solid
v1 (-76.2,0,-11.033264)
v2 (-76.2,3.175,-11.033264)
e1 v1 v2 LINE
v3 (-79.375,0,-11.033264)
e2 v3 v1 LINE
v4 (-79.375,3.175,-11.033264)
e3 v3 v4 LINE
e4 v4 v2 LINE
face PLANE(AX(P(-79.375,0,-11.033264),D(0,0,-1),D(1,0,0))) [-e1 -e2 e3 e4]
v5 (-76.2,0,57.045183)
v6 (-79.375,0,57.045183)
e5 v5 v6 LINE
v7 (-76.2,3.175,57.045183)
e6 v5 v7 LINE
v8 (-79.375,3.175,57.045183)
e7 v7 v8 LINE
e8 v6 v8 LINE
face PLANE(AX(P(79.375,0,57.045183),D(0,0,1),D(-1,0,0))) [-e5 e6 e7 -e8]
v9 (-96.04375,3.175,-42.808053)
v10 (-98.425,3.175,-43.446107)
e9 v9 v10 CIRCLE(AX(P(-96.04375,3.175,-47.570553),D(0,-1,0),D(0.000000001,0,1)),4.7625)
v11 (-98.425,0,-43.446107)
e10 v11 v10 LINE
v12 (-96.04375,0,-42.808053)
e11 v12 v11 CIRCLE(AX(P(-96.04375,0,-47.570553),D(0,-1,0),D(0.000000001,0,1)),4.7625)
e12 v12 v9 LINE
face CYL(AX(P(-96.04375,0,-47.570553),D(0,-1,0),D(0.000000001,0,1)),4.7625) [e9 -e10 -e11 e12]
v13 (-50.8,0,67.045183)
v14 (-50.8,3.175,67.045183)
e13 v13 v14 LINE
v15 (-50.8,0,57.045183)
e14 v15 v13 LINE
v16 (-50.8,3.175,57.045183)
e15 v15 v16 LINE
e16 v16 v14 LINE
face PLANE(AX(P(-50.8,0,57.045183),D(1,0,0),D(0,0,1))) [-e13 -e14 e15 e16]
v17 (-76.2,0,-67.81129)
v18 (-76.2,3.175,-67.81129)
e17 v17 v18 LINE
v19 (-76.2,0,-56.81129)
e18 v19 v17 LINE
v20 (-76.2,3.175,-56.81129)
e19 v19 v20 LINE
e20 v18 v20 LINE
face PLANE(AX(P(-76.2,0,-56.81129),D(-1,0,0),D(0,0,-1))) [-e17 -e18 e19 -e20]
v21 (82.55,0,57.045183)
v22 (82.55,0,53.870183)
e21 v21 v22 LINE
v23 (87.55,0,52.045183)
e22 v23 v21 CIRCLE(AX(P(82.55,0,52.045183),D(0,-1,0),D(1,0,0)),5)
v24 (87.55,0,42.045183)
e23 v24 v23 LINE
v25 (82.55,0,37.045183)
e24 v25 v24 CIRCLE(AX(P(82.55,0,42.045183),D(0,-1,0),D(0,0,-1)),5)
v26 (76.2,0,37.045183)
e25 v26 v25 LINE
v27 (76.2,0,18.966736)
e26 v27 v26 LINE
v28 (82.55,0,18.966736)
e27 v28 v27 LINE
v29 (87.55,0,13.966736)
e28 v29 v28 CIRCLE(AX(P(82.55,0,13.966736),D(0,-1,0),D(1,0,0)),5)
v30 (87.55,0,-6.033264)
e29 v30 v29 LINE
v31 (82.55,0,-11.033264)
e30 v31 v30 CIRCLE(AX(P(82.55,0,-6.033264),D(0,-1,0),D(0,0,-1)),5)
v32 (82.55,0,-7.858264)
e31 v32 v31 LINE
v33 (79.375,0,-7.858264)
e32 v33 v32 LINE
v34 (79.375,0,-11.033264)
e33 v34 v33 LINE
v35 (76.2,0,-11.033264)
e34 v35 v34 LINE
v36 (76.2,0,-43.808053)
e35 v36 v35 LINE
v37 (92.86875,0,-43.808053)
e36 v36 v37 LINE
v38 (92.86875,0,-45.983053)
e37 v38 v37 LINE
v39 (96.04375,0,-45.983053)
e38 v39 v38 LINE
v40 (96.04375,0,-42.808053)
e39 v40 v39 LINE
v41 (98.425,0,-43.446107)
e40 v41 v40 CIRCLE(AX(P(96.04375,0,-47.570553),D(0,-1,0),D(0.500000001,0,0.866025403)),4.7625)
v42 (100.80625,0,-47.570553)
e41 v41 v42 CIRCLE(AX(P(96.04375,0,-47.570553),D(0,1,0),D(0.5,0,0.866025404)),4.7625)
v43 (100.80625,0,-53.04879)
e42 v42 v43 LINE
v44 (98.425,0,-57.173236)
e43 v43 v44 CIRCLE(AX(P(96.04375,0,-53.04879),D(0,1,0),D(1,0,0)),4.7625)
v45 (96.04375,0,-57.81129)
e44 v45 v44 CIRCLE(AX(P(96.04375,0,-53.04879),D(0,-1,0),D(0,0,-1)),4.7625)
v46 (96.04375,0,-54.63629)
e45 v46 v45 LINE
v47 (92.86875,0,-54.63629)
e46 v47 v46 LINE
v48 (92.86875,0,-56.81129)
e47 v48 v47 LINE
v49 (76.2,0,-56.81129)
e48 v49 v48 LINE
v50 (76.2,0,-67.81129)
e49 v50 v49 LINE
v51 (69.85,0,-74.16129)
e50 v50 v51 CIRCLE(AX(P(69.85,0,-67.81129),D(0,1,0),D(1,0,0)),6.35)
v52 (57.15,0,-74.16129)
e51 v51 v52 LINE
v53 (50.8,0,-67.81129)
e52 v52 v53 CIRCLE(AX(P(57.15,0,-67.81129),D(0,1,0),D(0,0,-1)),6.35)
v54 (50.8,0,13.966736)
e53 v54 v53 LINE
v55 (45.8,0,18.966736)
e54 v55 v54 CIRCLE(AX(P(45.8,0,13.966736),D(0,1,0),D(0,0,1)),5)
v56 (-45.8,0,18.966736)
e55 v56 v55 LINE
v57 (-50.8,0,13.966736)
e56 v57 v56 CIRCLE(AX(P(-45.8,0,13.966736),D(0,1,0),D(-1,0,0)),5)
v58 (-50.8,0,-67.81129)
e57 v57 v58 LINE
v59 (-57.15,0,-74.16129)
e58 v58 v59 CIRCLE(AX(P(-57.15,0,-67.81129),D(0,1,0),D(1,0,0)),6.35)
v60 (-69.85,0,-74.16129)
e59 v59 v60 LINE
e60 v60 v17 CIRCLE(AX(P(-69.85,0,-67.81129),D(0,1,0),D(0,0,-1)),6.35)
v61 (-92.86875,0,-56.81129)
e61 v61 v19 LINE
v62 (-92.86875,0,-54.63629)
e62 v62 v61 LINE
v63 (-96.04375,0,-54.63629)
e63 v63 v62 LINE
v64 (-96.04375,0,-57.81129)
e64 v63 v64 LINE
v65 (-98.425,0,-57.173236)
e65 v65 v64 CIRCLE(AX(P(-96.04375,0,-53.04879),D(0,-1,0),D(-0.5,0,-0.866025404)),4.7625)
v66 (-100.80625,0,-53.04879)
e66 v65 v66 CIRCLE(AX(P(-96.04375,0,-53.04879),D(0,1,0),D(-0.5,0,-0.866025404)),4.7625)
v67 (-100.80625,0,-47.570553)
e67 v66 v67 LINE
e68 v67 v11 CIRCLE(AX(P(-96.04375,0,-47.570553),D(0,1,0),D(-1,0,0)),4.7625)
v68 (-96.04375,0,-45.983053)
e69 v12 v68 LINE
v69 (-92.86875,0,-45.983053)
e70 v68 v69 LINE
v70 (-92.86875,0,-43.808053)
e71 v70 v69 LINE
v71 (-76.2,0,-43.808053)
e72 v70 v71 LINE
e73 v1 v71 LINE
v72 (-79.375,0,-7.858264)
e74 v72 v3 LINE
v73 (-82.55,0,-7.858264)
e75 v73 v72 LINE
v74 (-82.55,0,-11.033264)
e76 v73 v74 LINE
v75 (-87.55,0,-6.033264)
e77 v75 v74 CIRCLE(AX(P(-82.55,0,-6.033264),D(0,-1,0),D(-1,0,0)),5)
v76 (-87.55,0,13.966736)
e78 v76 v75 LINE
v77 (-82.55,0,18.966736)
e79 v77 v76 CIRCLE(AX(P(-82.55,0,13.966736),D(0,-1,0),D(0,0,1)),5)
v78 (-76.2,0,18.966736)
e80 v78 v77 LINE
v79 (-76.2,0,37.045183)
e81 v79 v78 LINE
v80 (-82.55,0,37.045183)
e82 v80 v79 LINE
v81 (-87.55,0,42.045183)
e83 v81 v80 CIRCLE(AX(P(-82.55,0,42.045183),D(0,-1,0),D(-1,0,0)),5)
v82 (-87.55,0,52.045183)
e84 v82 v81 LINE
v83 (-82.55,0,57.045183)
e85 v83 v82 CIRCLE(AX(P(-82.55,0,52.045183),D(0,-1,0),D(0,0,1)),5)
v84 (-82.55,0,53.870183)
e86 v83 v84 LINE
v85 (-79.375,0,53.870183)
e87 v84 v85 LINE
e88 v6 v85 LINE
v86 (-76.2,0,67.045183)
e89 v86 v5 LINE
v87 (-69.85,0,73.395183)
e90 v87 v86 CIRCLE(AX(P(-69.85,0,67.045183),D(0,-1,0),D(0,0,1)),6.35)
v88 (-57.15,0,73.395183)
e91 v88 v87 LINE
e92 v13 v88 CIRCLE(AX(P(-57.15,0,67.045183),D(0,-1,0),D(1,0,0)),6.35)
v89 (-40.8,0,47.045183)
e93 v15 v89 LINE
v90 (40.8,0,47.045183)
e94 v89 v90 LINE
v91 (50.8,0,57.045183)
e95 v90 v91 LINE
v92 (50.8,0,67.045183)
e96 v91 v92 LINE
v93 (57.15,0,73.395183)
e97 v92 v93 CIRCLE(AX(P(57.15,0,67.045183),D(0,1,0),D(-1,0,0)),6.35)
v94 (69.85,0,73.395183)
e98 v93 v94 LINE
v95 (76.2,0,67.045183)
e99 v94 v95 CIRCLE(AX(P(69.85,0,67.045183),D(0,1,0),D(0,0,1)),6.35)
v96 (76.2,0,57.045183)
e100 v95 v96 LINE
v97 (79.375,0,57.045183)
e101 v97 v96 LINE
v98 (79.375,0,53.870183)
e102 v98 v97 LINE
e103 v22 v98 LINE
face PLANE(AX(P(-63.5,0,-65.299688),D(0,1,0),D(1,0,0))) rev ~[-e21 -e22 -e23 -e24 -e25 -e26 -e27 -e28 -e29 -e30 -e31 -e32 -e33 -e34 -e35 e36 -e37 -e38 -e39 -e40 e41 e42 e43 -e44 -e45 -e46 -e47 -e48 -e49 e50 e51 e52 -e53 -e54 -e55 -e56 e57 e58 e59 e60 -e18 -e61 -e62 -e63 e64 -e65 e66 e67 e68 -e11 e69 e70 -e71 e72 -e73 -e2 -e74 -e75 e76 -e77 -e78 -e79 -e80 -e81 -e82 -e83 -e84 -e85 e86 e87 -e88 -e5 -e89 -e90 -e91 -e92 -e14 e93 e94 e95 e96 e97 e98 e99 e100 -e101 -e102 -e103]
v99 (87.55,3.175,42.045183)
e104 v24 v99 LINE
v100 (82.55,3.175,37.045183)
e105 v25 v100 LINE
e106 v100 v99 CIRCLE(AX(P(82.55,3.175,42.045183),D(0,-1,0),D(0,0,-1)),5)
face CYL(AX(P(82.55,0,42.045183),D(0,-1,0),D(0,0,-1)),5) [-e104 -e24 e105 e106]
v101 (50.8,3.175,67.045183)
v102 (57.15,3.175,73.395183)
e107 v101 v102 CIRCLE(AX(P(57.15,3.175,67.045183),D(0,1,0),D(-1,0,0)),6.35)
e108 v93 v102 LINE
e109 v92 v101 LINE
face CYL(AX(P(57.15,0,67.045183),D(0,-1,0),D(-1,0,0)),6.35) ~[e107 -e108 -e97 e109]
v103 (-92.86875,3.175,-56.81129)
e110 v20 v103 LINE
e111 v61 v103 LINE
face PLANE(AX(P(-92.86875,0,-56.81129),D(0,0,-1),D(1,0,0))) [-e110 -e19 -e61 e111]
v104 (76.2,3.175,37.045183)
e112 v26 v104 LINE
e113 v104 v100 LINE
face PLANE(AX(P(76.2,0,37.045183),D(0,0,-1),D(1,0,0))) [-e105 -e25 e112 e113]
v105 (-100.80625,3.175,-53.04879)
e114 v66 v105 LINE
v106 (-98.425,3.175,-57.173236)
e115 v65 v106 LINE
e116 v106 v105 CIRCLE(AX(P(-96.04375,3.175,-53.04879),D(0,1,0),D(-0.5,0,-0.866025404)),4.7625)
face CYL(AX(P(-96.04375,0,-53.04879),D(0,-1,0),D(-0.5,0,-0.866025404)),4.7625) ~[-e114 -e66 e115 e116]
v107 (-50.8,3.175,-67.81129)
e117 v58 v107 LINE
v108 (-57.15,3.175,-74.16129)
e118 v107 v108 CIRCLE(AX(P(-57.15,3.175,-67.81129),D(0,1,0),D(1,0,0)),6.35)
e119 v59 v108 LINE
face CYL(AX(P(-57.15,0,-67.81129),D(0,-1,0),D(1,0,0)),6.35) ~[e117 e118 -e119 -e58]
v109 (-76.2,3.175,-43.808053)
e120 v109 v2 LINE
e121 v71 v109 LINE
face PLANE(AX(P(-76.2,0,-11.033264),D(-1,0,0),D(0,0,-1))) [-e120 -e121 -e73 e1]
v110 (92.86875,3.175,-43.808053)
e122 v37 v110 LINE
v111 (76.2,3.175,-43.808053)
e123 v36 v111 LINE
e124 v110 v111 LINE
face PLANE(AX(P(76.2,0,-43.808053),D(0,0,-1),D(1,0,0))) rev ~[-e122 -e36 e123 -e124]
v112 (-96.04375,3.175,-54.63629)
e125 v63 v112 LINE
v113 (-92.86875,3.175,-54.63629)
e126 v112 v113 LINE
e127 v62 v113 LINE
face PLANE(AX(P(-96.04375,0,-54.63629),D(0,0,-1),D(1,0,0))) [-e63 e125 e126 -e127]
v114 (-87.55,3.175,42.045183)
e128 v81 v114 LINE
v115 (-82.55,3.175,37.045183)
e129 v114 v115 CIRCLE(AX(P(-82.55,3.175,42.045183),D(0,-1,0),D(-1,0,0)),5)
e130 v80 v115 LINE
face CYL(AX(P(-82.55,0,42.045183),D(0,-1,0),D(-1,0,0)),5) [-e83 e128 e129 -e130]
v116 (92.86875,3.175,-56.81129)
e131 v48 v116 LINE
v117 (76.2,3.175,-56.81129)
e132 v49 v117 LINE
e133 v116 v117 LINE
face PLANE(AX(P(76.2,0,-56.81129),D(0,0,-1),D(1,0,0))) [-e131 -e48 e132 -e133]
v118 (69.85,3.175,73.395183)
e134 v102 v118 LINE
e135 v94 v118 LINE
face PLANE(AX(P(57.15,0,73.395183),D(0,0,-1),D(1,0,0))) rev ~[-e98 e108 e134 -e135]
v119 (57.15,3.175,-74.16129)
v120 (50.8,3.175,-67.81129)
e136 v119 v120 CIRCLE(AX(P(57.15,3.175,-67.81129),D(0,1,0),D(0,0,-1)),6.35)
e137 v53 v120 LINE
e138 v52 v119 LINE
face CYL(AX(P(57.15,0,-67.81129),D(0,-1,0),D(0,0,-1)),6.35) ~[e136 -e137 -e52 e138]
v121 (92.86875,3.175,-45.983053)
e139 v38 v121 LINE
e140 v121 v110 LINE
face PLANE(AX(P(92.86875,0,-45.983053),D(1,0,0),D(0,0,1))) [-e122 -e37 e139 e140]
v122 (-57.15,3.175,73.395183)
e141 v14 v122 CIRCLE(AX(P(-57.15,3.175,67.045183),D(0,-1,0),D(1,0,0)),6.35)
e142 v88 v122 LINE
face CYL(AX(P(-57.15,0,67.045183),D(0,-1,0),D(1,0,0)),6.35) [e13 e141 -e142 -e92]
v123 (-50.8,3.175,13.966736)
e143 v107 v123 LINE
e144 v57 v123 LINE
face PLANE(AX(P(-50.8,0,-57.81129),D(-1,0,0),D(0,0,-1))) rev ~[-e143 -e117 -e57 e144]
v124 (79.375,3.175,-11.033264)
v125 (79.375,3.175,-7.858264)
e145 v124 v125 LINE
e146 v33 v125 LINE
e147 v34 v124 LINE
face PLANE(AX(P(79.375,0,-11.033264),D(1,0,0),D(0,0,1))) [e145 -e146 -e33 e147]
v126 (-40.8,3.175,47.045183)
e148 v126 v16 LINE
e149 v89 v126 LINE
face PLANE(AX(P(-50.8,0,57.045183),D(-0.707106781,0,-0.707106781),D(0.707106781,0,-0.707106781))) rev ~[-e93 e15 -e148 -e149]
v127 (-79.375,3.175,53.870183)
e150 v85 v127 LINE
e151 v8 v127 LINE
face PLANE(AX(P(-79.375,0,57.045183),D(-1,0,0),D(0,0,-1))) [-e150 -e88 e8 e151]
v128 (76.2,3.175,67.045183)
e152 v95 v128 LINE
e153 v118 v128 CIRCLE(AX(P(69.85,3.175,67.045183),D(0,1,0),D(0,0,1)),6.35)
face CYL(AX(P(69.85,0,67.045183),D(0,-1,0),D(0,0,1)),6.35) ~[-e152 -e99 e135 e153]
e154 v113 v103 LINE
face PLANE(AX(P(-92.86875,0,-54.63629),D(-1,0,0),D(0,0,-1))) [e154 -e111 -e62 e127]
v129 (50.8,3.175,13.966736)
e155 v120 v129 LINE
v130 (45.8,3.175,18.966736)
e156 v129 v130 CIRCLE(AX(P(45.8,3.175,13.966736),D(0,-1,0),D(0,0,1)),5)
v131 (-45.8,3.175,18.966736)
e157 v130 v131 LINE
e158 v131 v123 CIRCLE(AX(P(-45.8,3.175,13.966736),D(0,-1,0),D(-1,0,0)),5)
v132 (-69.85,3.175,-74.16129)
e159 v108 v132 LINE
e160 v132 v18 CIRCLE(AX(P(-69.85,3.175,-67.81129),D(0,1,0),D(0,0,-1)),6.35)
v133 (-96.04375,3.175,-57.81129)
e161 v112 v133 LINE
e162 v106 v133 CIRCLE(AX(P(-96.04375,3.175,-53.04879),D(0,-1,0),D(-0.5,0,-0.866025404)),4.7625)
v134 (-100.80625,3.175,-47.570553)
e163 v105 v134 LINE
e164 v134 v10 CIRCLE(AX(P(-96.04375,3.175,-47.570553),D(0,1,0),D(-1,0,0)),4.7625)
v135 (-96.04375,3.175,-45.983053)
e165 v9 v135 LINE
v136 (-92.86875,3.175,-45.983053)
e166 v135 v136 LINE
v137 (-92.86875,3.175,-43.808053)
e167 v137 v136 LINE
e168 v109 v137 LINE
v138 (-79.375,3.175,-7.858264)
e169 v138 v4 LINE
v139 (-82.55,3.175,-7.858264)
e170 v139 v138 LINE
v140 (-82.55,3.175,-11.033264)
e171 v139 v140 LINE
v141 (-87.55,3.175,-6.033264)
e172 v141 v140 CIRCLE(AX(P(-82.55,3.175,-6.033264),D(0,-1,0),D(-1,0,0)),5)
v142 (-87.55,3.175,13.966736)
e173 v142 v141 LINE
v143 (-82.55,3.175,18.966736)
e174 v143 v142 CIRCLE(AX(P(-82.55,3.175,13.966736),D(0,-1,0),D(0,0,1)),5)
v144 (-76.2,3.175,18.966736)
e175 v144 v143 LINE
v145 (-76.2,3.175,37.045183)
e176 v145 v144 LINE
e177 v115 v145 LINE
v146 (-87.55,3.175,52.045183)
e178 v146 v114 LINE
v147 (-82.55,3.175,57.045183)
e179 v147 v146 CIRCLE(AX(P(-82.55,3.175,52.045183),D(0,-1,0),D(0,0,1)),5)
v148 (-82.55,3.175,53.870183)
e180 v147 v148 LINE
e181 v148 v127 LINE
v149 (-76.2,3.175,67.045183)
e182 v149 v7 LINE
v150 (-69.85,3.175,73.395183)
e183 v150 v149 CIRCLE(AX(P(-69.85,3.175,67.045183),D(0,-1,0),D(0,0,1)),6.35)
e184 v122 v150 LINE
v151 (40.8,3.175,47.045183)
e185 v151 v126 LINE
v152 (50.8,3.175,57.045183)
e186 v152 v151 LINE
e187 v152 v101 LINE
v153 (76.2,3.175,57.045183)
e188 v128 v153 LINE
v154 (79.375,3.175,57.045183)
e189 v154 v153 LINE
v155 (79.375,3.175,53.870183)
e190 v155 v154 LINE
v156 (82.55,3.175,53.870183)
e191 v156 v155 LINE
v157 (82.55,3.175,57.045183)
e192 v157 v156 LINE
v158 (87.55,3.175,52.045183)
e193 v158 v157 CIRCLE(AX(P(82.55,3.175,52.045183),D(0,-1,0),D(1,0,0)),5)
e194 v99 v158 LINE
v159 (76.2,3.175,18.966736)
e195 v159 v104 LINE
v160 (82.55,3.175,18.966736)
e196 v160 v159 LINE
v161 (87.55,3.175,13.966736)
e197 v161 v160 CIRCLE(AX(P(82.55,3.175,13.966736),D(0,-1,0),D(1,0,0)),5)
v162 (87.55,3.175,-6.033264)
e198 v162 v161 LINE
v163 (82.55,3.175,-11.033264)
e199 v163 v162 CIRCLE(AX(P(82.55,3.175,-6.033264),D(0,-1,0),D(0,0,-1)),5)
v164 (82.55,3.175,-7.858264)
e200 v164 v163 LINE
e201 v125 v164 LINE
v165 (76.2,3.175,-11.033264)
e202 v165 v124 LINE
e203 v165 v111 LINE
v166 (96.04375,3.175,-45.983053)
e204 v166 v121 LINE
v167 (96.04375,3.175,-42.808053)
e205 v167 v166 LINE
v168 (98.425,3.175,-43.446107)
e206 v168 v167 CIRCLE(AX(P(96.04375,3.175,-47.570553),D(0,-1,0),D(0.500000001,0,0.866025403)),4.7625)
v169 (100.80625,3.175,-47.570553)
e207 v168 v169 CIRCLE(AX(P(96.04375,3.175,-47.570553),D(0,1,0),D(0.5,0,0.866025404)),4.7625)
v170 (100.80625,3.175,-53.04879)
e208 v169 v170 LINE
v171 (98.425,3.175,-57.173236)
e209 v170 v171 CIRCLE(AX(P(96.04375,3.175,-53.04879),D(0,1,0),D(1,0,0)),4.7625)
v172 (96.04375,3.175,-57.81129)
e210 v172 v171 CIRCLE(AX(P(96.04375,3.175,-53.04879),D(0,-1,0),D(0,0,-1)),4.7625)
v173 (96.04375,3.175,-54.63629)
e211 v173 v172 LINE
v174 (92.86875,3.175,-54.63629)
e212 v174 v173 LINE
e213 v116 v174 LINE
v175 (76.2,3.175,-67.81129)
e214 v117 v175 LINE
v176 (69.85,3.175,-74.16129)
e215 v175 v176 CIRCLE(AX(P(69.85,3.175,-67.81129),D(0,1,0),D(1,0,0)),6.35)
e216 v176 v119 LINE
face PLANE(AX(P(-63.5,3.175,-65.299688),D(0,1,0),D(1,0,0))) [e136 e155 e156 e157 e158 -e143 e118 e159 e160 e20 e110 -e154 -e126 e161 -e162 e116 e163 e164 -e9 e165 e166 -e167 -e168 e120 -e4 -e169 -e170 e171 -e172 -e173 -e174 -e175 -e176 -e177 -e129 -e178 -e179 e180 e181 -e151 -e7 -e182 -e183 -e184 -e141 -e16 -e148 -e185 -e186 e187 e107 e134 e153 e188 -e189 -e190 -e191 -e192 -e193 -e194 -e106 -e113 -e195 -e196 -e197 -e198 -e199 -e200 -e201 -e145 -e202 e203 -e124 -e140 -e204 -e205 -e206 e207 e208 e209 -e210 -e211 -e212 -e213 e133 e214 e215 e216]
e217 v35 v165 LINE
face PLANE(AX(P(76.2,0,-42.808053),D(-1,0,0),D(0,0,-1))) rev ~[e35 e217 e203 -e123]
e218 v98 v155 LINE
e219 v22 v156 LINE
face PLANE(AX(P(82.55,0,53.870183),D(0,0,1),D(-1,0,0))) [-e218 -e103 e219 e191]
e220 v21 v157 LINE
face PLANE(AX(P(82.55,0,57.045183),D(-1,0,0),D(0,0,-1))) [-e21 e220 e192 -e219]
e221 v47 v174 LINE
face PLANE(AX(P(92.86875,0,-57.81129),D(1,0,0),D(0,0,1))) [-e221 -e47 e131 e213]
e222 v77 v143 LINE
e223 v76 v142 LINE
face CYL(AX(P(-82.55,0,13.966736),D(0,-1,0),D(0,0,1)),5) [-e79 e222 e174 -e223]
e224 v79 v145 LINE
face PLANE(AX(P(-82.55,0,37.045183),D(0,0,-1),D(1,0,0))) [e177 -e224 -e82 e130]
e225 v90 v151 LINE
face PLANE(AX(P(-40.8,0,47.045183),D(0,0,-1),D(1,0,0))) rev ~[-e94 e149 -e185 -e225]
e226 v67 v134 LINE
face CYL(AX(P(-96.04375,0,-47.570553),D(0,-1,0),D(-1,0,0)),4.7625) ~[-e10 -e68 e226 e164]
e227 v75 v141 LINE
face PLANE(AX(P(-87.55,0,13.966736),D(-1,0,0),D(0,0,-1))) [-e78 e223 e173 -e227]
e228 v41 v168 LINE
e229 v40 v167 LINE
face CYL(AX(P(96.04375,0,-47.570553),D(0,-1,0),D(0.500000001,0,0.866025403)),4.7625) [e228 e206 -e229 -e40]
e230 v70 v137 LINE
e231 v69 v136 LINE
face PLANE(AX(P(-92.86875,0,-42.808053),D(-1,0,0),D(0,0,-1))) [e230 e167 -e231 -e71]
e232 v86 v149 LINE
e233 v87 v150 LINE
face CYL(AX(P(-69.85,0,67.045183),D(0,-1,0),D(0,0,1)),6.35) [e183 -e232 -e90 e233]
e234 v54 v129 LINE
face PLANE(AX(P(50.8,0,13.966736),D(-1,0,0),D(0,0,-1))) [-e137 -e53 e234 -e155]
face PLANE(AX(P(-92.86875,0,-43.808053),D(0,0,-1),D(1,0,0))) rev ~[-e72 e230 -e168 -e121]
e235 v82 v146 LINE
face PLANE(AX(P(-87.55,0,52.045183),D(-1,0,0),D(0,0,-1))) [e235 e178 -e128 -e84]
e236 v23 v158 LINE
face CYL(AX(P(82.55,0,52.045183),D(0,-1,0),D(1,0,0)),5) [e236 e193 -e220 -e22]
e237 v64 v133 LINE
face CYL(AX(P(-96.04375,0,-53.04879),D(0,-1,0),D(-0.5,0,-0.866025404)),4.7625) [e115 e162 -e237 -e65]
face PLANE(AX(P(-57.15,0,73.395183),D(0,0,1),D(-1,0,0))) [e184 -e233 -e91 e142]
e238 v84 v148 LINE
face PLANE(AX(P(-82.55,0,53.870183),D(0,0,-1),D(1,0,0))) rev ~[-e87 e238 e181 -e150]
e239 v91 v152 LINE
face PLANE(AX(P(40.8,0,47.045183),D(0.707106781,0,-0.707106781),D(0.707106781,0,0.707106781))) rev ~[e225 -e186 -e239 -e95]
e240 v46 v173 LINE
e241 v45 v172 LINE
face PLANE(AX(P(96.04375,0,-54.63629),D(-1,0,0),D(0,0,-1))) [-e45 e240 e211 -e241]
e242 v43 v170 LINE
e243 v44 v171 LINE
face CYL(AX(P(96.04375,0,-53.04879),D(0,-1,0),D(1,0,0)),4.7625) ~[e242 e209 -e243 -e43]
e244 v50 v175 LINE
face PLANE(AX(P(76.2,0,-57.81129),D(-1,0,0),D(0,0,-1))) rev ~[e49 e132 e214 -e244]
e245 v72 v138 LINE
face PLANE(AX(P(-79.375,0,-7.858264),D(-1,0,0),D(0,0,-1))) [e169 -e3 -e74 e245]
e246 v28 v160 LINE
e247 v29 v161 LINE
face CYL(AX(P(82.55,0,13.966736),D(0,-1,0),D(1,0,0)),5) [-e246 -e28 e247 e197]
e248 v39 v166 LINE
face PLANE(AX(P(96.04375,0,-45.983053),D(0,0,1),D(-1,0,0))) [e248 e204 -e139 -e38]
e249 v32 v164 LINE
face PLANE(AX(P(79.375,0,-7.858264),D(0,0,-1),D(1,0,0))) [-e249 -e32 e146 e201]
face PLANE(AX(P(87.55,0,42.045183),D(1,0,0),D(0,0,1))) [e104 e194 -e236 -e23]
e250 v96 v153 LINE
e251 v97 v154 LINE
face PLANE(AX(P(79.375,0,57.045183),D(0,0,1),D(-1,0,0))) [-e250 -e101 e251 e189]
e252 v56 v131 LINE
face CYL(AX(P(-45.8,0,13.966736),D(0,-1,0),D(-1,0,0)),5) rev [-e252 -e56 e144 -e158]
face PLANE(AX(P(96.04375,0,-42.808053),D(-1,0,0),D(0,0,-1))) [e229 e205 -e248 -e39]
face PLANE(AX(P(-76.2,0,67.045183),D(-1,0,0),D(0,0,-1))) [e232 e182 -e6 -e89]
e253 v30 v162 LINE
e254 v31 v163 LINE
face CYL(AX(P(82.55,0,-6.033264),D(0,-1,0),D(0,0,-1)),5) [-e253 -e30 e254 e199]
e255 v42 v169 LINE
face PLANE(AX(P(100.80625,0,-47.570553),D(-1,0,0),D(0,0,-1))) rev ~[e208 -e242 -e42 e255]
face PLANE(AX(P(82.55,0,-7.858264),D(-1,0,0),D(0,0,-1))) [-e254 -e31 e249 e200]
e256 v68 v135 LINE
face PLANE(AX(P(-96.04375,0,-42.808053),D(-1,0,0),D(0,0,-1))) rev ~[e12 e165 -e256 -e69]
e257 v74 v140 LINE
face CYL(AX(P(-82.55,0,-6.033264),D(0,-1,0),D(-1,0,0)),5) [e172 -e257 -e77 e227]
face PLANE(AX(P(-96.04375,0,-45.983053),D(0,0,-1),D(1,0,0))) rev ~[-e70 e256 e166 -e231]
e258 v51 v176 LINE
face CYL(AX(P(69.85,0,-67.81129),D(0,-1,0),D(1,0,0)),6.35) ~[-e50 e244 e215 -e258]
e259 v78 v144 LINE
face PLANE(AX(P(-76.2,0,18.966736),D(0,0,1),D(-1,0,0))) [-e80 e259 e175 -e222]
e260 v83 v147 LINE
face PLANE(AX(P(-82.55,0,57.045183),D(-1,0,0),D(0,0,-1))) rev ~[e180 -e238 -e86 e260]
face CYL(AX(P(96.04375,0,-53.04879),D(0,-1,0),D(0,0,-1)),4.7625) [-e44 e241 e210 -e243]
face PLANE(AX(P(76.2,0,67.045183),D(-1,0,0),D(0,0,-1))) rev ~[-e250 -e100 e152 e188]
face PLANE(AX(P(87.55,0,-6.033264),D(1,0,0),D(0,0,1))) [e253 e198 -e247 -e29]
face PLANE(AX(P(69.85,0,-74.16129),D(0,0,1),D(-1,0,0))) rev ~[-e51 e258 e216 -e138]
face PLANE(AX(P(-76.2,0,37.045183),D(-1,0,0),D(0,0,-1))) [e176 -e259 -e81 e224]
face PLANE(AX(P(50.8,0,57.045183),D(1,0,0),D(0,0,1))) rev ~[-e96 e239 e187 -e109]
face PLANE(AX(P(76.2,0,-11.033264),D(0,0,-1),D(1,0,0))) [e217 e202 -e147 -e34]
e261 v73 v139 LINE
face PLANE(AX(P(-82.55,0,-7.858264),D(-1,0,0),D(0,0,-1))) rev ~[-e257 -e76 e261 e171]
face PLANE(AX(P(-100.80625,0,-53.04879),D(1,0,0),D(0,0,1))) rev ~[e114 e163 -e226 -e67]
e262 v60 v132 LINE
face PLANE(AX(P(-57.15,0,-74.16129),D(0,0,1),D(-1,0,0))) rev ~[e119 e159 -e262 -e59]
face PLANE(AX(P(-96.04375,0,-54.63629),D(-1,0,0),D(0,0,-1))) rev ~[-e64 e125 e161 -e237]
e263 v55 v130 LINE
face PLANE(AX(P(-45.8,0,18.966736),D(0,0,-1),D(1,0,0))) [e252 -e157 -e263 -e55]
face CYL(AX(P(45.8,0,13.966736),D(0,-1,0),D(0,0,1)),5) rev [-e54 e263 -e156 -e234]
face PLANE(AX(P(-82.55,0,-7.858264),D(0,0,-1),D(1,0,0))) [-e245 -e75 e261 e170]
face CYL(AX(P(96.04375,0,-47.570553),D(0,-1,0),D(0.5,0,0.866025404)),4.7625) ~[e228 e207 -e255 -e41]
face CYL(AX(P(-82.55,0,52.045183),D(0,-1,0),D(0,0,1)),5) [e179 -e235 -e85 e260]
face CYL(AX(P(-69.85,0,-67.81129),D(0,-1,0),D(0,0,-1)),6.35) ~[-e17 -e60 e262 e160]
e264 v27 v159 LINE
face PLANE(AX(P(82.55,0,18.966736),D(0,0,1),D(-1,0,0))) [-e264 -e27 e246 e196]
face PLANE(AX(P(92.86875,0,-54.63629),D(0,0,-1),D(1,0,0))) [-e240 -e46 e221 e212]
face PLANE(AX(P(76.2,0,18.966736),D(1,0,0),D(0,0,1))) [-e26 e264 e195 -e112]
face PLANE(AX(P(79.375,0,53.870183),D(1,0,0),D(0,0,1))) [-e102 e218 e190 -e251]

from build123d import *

# Parameters (mm, degrees)
SKETCH1_W           = 196.85
SKETCH1_H           = 120
BOSS_EXTRUDE1_DEPTH = 3.175
SKETCH2_W           = 152.4
SKETCH2_H           = 2.188710325
SKETCH2_W_2         = 3.175
SKETCH2_H_2         = 3.175
CUT_EXTRUDE3_DEPTH  = 3.175
BOSS_EXTRUDE3_DEPTH = 3.175
CUT_EXTRUDE5_DEPTH  = 6.175
BOSS_EXTRUDE4_DEPTH = 3.175
SKETCH8_W           = 16.66875
SKETCH8_H           = 1
CUT_EXTRUDE6_DEPTH  = 4
SKETCH9_W           = 16.66875
SKETCH9_H           = 1
CUT_EXTRUDE7_DEPTH  = 4


with BuildPart() as part:
    # Sketch1 → Boss-Extrude1 (new body)
    with BuildSketch(Plane(origin=(0, 0, 0), x_dir=(1, 0, 0), z_dir=(0, 1, 0))):
        Rectangle(SKETCH1_W, SKETCH1_H)
    extrude(amount=BOSS_EXTRUDE1_DEPTH)

    # Sketch2 → Cut-Extrude3 (cut)
    with BuildSketch(Plane(origin=(0, 0, 0), x_dir=(1, 0, 0), z_dir=(0, 1, 0))):
        with BuildLine():
            ThreePointArc((-87.55, -42.045183145), (-86.085533906, -38.509649239), (-82.55, -37.045183145))
            Line((-82.55, -37.045183145), (-98.425, -37.045183145))
            Line((-98.425, -37.045183145), (-98.425, -57.045183145))
            Line((-98.425, -57.045183145), (-82.55, -57.045183145))
            ThreePointArc((-82.55, -57.045183145), (-86.085533906, -55.580717051), (-87.55, -52.045183145))
            Line((-87.55, -52.045183145), (-87.55, -42.045183145))
        make_face()
        Polygon((-82.55, -37.045183145), (-76.2, -37.045183145), (-76.2, -18.966736095), (-82.55, -18.966736095), (-98.425, -18.966736095), (-98.425, -37.045183145), align=None)
        with BuildLine():
            Line((-98.425, -18.966736095), (-82.55, -18.966736095))
            ThreePointArc((-82.55, -18.966736095), (-86.085533906, -17.502270001), (-87.55, -13.966736095))
            Line((-87.55, -13.966736095), (-87.55, 6.033263905))
            ThreePointArc((-87.55, 6.033263905), (-86.085533906, 9.568797811), (-82.55, 11.033263905))
            Line((-82.55, 11.033263905), (-98.425, 11.033263905))
            Line((-98.425, 11.033263905), (-98.425, -18.966736095))
        make_face()
        with BuildLine():
            Line((-76.2, 11.033263905), (-76.2, 42.808053265))
            Line((-76.2, 42.808053265), (-92.86875, 42.808053265))
            Line((-92.86875, 42.808053265), (-96.04375, 42.808053265))
            ThreePointArc((-96.04375, 42.808053265), (-97.276375702, 42.970331517), (-98.425, 43.44610728))
            Line((-98.425, 43.44610728), (-98.425, 11.033263905))
            Line((-98.425, 11.033263905), (-82.55, 11.033263905))
            Line((-82.55, 11.033263905), (-79.375, 11.033263905))
            Line((-79.375, 11.033263905), (-76.2, 11.033263905))
        make_face()
        with BuildLine():
            Line((-92.86875, 57.811289675), (-76.2, 57.811289675))
            Line((-76.2, 57.811289675), (-76.2, 60))
            Line((-76.2, 60), (-98.425, 60))
            Line((-98.425, 60), (-98.425, 57.173235661))
            ThreePointArc((-98.425, 57.173235661), (-97.276375702, 57.649011423), (-96.04375, 57.811289675))
            Line((-96.04375, 57.811289675), (-92.86875, 57.811289675))
        make_face()
        with Locations((0, 58.905644838)):
            Rectangle(SKETCH2_W, SKETCH2_H)
        with BuildLine():
            Line((76.2, 60), (76.2, 57.811289675))
            Line((76.2, 57.811289675), (92.86875, 57.811289675))
            Line((92.86875, 57.811289675), (92.86875, 54.636289675))
            Line((92.86875, 54.636289675), (96.04375, 54.636289675))
            Line((96.04375, 54.636289675), (96.04375, 57.811289675))
            ThreePointArc((96.04375, 57.811289675), (97.276375702, 57.649011423), (98.425, 57.173235661))
            Line((98.425, 57.173235661), (98.425, 60))
            Line((98.425, 60), (76.2, 60))
        make_face()
        with BuildLine():
            Line((79.375, -18.966736095), (76.2, -18.966736095))
            Line((76.2, -18.966736095), (76.2, -37.045183145))
            Line((76.2, -37.045183145), (82.55, -37.045183145))
            ThreePointArc((82.55, -37.045183145), (86.085533906, -38.509649239), (87.55, -42.045183145))
            Line((87.55, -42.045183145), (87.55, -52.045183145))
            ThreePointArc((87.55, -52.045183145), (86.085533906, -55.580717051), (82.55, -57.045183145))
            Line((82.55, -57.045183145), (82.55, -53.870183145))
            Line((82.55, -53.870183145), (79.375, -53.870183145))
            Line((79.375, -53.870183145), (79.375, -57.045183145))
            Line((79.375, -57.045183145), (76.2, -57.045183145))
            Line((76.2, -57.045183145), (76.2, -59.23389347))
            Line((76.2, -59.23389347), (76.2, -60))
            Line((76.2, -60), (98.425, -60))
            Line((98.425, -60), (98.425, 0))
            Line((98.425, 0), (98.425, 43.44610728))
            ThreePointArc((98.425, 43.44610728), (97.276375702, 42.970331517), (96.04375, 42.808053265))
            Line((96.04375, 42.808053265), (96.04375, 45.983053265))
            Line((96.04375, 45.983053265), (92.86875, 45.983053265))
            Line((92.86875, 45.983053265), (92.86875, 42.808053265))
            Line((92.86875, 42.808053265), (87.3125, 42.808053265))
            Line((87.3125, 42.808053265), (76.2, 42.808053265))
            Line((76.2, 42.808053265), (76.2, 11.033263905))
            Line((76.2, 11.033263905), (79.375, 11.033263905))
            Line((79.375, 11.033263905), (79.375, 7.858263905))
            Line((79.375, 7.858263905), (82.55, 7.858263905))
            Line((82.55, 7.858263905), (82.55, 11.033263905))
            ThreePointArc((82.55, 11.033263905), (86.085533906, 9.568797811), (87.55, 6.033263905))
            Line((87.55, 6.033263905), (87.55, -13.966736095))
            ThreePointArc((87.55, -13.966736095), (86.085533906, -17.502270001), (82.55, -18.966736095))
            Line((82.55, -18.966736095), (79.375, -18.966736095))
        make_face()
        Polygon((76.2, -59.23389347), (76.2, -57.045183145), (-76.2, -57.045183145), (-76.2, -59.23389347), (-76.2, -60), (76.2, -60), align=None)
        Polygon((-76.2, -59.23389347), (-76.2, -57.045183145), (-79.375, -57.045183145), (-82.55, -57.045183145), (-98.425, -57.045183145), (-98.425, -60), (-76.2, -60), align=None)
        with Locations((-80.9625, -55.457683145)):
            Rectangle(SKETCH2_W_2, SKETCH2_H_2)
        with Locations((-80.9625, 9.445763905)):
            Rectangle(SKETCH2_W_2, SKETCH2_H_2)
        with Locations((-94.45625, 44.395553265)):
            Rectangle(SKETCH2_W_2, SKETCH2_H_2)
        with Locations((-94.45625, 56.223789675)):
            Rectangle(SKETCH2_W_2, SKETCH2_H_2)
    extrude(amount=CUT_EXTRUDE3_DEPTH, mode=Mode.SUBTRACT)

    # Sketch5 → Boss-Extrude3 (add)
    with BuildSketch(Plane(origin=(0, 0, 0), x_dir=(1, 0, 0), z_dir=(0, 1, 0))):
        with BuildLine():
            ThreePointArc((-98.425, 57.173235661), (-100.168195986, 55.430039675), (-100.80625, 53.048789675))
            Line((-100.80625, 53.048789675), (-100.80625, 47.570553265))
            ThreePointArc((-100.80625, 47.570553265), (-100.168195986, 45.189303265), (-98.425, 43.44610728))
            Line((-98.425, 43.44610728), (-98.425, 57.173235661))
        make_face()
        with BuildLine():
            ThreePointArc((100.80625, 53.048789675), (100.168195986, 55.430039675), (98.425, 57.173235661))
            Line((98.425, 57.173235661), (98.425, 43.44610728))
            ThreePointArc((98.425, 43.44610728), (100.168195986, 45.189303265), (100.80625, 47.570553265))
            Line((100.80625, 47.570553265), (100.80625, 53.048789675))
        make_face()
    extrude(amount=BOSS_EXTRUDE3_DEPTH)

    # Sketch6 → Cut-Extrude5 (cut)
    with BuildSketch(Plane(origin=(0, 0, 0), x_dir=(1, 0, 0), z_dir=(0, 1, 0))):
        with BuildLine():
            Line((-45.8, -18.966736095), (45.8, -18.966736095))
            ThreePointArc((45.8, -18.966736095), (49.335533906, -17.502270001), (50.8, -13.966736095))
            Line((50.8, -13.966736095), (50.8, 57.811289675))
            Line((50.8, 57.811289675), (-50.8, 57.811289675))
            Line((-50.8, 57.811289675), (-50.8, -13.966736095))
            ThreePointArc((-50.8, -13.966736095), (-49.335533906, -17.502270001), (-45.8, -18.966736095))
        make_face()
        Polygon((-50.8, -57.045183145), (-40.8, -47.045183145), (40.8, -47.045183145), (50.8, -57.045183145), align=None)
    extrude(amount=CUT_EXTRUDE5_DEPTH, mode=Mode.SUBTRACT)

    # Sketch7 → Boss-Extrude4 (add)
    with BuildSketch(Plane(origin=(0, 0, 0), x_dir=(1, 0, 0), z_dir=(0, 1, 0))):
        with BuildLine():
            Line((-50.8, 57.811289675), (-50.8, 67.811289675))
            ThreePointArc((-50.8, 67.811289675), (-52.659871939, 72.301417736), (-57.15, 74.161289675))
            Line((-57.15, 74.161289675), (-69.85, 74.161289675))
            ThreePointArc((-69.85, 74.161289675), (-74.340128061, 72.301417736), (-76.2, 67.811289675))
            Line((-76.2, 67.811289675), (-76.2, 57.811289675))
            Line((-76.2, 57.811289675), (-50.8, 57.811289675))
        make_face()
        with BuildLine():
            Line((76.2, 57.811289675), (76.2, 67.811289675))
            ThreePointArc((76.2, 67.811289675), (74.340128061, 72.301417736), (69.85, 74.161289675))
            Line((69.85, 74.161289675), (57.15, 74.161289675))
            ThreePointArc((57.15, 74.161289675), (52.659871939, 72.301417736), (50.8, 67.811289675))
            Line((50.8, 67.811289675), (50.8, 57.811289675))
            Line((50.8, 57.811289675), (76.2, 57.811289675))
        make_face()
        with BuildLine():
            ThreePointArc((-50.8, -67.045183145), (-52.659871939, -71.535311205), (-57.15, -73.395183145))
            Line((-57.15, -73.395183145), (-69.85, -73.395183145))
            ThreePointArc((-69.85, -73.395183145), (-74.340128061, -71.535311205), (-76.2, -67.045183145))
            Line((-76.2, -67.045183145), (-76.2, -57.045183145))
            Line((-76.2, -57.045183145), (-50.8, -57.045183145))
            Line((-50.8, -57.045183145), (-50.8, -67.045183145))
        make_face()
        with BuildLine():
            Line((50.8, -57.045183145), (50.8, -67.045183145))
            ThreePointArc((50.8, -67.045183145), (52.659871939, -71.535311205), (57.15, -73.395183145))
            Line((57.15, -73.395183145), (69.85, -73.395183145))
            ThreePointArc((69.85, -73.395183145), (74.340128061, -71.535311205), (76.2, -67.045183145))
            Line((76.2, -67.045183145), (76.2, -57.045183145))
            Line((76.2, -57.045183145), (50.8, -57.045183145))
        make_face()
    extrude(amount=BOSS_EXTRUDE4_DEPTH)

    # Sketch8 → Cut-Extrude6 (cut)
    with BuildSketch(Plane(origin=(0, 0, 0), x_dir=(1, 0, 0), z_dir=(0, 1, 0))):
        with Locations((84.534375, 43.308053265)):
            Rectangle(SKETCH8_W, SKETCH8_H)
        with Locations((84.534375, 57.311289675)):
            Rectangle(SKETCH8_W, SKETCH8_H)
    extrude(amount=CUT_EXTRUDE6_DEPTH, mode=Mode.SUBTRACT)

    # Sketch9 → Cut-Extrude7 (cut)
    with BuildSketch(Plane(origin=(0, 0, 0), x_dir=(1, 0, 0), z_dir=(0, 1, 0))):
        with Locations((-84.534375, 57.311289675)):
            Rectangle(SKETCH9_W, SKETCH9_H)
        with Locations((-84.534375, 43.308053265)):
            Rectangle(SKETCH9_W, SKETCH9_H)
    extrude(amount=CUT_EXTRUDE7_DEPTH, mode=Mode.SUBTRACT)


solid = part.part
